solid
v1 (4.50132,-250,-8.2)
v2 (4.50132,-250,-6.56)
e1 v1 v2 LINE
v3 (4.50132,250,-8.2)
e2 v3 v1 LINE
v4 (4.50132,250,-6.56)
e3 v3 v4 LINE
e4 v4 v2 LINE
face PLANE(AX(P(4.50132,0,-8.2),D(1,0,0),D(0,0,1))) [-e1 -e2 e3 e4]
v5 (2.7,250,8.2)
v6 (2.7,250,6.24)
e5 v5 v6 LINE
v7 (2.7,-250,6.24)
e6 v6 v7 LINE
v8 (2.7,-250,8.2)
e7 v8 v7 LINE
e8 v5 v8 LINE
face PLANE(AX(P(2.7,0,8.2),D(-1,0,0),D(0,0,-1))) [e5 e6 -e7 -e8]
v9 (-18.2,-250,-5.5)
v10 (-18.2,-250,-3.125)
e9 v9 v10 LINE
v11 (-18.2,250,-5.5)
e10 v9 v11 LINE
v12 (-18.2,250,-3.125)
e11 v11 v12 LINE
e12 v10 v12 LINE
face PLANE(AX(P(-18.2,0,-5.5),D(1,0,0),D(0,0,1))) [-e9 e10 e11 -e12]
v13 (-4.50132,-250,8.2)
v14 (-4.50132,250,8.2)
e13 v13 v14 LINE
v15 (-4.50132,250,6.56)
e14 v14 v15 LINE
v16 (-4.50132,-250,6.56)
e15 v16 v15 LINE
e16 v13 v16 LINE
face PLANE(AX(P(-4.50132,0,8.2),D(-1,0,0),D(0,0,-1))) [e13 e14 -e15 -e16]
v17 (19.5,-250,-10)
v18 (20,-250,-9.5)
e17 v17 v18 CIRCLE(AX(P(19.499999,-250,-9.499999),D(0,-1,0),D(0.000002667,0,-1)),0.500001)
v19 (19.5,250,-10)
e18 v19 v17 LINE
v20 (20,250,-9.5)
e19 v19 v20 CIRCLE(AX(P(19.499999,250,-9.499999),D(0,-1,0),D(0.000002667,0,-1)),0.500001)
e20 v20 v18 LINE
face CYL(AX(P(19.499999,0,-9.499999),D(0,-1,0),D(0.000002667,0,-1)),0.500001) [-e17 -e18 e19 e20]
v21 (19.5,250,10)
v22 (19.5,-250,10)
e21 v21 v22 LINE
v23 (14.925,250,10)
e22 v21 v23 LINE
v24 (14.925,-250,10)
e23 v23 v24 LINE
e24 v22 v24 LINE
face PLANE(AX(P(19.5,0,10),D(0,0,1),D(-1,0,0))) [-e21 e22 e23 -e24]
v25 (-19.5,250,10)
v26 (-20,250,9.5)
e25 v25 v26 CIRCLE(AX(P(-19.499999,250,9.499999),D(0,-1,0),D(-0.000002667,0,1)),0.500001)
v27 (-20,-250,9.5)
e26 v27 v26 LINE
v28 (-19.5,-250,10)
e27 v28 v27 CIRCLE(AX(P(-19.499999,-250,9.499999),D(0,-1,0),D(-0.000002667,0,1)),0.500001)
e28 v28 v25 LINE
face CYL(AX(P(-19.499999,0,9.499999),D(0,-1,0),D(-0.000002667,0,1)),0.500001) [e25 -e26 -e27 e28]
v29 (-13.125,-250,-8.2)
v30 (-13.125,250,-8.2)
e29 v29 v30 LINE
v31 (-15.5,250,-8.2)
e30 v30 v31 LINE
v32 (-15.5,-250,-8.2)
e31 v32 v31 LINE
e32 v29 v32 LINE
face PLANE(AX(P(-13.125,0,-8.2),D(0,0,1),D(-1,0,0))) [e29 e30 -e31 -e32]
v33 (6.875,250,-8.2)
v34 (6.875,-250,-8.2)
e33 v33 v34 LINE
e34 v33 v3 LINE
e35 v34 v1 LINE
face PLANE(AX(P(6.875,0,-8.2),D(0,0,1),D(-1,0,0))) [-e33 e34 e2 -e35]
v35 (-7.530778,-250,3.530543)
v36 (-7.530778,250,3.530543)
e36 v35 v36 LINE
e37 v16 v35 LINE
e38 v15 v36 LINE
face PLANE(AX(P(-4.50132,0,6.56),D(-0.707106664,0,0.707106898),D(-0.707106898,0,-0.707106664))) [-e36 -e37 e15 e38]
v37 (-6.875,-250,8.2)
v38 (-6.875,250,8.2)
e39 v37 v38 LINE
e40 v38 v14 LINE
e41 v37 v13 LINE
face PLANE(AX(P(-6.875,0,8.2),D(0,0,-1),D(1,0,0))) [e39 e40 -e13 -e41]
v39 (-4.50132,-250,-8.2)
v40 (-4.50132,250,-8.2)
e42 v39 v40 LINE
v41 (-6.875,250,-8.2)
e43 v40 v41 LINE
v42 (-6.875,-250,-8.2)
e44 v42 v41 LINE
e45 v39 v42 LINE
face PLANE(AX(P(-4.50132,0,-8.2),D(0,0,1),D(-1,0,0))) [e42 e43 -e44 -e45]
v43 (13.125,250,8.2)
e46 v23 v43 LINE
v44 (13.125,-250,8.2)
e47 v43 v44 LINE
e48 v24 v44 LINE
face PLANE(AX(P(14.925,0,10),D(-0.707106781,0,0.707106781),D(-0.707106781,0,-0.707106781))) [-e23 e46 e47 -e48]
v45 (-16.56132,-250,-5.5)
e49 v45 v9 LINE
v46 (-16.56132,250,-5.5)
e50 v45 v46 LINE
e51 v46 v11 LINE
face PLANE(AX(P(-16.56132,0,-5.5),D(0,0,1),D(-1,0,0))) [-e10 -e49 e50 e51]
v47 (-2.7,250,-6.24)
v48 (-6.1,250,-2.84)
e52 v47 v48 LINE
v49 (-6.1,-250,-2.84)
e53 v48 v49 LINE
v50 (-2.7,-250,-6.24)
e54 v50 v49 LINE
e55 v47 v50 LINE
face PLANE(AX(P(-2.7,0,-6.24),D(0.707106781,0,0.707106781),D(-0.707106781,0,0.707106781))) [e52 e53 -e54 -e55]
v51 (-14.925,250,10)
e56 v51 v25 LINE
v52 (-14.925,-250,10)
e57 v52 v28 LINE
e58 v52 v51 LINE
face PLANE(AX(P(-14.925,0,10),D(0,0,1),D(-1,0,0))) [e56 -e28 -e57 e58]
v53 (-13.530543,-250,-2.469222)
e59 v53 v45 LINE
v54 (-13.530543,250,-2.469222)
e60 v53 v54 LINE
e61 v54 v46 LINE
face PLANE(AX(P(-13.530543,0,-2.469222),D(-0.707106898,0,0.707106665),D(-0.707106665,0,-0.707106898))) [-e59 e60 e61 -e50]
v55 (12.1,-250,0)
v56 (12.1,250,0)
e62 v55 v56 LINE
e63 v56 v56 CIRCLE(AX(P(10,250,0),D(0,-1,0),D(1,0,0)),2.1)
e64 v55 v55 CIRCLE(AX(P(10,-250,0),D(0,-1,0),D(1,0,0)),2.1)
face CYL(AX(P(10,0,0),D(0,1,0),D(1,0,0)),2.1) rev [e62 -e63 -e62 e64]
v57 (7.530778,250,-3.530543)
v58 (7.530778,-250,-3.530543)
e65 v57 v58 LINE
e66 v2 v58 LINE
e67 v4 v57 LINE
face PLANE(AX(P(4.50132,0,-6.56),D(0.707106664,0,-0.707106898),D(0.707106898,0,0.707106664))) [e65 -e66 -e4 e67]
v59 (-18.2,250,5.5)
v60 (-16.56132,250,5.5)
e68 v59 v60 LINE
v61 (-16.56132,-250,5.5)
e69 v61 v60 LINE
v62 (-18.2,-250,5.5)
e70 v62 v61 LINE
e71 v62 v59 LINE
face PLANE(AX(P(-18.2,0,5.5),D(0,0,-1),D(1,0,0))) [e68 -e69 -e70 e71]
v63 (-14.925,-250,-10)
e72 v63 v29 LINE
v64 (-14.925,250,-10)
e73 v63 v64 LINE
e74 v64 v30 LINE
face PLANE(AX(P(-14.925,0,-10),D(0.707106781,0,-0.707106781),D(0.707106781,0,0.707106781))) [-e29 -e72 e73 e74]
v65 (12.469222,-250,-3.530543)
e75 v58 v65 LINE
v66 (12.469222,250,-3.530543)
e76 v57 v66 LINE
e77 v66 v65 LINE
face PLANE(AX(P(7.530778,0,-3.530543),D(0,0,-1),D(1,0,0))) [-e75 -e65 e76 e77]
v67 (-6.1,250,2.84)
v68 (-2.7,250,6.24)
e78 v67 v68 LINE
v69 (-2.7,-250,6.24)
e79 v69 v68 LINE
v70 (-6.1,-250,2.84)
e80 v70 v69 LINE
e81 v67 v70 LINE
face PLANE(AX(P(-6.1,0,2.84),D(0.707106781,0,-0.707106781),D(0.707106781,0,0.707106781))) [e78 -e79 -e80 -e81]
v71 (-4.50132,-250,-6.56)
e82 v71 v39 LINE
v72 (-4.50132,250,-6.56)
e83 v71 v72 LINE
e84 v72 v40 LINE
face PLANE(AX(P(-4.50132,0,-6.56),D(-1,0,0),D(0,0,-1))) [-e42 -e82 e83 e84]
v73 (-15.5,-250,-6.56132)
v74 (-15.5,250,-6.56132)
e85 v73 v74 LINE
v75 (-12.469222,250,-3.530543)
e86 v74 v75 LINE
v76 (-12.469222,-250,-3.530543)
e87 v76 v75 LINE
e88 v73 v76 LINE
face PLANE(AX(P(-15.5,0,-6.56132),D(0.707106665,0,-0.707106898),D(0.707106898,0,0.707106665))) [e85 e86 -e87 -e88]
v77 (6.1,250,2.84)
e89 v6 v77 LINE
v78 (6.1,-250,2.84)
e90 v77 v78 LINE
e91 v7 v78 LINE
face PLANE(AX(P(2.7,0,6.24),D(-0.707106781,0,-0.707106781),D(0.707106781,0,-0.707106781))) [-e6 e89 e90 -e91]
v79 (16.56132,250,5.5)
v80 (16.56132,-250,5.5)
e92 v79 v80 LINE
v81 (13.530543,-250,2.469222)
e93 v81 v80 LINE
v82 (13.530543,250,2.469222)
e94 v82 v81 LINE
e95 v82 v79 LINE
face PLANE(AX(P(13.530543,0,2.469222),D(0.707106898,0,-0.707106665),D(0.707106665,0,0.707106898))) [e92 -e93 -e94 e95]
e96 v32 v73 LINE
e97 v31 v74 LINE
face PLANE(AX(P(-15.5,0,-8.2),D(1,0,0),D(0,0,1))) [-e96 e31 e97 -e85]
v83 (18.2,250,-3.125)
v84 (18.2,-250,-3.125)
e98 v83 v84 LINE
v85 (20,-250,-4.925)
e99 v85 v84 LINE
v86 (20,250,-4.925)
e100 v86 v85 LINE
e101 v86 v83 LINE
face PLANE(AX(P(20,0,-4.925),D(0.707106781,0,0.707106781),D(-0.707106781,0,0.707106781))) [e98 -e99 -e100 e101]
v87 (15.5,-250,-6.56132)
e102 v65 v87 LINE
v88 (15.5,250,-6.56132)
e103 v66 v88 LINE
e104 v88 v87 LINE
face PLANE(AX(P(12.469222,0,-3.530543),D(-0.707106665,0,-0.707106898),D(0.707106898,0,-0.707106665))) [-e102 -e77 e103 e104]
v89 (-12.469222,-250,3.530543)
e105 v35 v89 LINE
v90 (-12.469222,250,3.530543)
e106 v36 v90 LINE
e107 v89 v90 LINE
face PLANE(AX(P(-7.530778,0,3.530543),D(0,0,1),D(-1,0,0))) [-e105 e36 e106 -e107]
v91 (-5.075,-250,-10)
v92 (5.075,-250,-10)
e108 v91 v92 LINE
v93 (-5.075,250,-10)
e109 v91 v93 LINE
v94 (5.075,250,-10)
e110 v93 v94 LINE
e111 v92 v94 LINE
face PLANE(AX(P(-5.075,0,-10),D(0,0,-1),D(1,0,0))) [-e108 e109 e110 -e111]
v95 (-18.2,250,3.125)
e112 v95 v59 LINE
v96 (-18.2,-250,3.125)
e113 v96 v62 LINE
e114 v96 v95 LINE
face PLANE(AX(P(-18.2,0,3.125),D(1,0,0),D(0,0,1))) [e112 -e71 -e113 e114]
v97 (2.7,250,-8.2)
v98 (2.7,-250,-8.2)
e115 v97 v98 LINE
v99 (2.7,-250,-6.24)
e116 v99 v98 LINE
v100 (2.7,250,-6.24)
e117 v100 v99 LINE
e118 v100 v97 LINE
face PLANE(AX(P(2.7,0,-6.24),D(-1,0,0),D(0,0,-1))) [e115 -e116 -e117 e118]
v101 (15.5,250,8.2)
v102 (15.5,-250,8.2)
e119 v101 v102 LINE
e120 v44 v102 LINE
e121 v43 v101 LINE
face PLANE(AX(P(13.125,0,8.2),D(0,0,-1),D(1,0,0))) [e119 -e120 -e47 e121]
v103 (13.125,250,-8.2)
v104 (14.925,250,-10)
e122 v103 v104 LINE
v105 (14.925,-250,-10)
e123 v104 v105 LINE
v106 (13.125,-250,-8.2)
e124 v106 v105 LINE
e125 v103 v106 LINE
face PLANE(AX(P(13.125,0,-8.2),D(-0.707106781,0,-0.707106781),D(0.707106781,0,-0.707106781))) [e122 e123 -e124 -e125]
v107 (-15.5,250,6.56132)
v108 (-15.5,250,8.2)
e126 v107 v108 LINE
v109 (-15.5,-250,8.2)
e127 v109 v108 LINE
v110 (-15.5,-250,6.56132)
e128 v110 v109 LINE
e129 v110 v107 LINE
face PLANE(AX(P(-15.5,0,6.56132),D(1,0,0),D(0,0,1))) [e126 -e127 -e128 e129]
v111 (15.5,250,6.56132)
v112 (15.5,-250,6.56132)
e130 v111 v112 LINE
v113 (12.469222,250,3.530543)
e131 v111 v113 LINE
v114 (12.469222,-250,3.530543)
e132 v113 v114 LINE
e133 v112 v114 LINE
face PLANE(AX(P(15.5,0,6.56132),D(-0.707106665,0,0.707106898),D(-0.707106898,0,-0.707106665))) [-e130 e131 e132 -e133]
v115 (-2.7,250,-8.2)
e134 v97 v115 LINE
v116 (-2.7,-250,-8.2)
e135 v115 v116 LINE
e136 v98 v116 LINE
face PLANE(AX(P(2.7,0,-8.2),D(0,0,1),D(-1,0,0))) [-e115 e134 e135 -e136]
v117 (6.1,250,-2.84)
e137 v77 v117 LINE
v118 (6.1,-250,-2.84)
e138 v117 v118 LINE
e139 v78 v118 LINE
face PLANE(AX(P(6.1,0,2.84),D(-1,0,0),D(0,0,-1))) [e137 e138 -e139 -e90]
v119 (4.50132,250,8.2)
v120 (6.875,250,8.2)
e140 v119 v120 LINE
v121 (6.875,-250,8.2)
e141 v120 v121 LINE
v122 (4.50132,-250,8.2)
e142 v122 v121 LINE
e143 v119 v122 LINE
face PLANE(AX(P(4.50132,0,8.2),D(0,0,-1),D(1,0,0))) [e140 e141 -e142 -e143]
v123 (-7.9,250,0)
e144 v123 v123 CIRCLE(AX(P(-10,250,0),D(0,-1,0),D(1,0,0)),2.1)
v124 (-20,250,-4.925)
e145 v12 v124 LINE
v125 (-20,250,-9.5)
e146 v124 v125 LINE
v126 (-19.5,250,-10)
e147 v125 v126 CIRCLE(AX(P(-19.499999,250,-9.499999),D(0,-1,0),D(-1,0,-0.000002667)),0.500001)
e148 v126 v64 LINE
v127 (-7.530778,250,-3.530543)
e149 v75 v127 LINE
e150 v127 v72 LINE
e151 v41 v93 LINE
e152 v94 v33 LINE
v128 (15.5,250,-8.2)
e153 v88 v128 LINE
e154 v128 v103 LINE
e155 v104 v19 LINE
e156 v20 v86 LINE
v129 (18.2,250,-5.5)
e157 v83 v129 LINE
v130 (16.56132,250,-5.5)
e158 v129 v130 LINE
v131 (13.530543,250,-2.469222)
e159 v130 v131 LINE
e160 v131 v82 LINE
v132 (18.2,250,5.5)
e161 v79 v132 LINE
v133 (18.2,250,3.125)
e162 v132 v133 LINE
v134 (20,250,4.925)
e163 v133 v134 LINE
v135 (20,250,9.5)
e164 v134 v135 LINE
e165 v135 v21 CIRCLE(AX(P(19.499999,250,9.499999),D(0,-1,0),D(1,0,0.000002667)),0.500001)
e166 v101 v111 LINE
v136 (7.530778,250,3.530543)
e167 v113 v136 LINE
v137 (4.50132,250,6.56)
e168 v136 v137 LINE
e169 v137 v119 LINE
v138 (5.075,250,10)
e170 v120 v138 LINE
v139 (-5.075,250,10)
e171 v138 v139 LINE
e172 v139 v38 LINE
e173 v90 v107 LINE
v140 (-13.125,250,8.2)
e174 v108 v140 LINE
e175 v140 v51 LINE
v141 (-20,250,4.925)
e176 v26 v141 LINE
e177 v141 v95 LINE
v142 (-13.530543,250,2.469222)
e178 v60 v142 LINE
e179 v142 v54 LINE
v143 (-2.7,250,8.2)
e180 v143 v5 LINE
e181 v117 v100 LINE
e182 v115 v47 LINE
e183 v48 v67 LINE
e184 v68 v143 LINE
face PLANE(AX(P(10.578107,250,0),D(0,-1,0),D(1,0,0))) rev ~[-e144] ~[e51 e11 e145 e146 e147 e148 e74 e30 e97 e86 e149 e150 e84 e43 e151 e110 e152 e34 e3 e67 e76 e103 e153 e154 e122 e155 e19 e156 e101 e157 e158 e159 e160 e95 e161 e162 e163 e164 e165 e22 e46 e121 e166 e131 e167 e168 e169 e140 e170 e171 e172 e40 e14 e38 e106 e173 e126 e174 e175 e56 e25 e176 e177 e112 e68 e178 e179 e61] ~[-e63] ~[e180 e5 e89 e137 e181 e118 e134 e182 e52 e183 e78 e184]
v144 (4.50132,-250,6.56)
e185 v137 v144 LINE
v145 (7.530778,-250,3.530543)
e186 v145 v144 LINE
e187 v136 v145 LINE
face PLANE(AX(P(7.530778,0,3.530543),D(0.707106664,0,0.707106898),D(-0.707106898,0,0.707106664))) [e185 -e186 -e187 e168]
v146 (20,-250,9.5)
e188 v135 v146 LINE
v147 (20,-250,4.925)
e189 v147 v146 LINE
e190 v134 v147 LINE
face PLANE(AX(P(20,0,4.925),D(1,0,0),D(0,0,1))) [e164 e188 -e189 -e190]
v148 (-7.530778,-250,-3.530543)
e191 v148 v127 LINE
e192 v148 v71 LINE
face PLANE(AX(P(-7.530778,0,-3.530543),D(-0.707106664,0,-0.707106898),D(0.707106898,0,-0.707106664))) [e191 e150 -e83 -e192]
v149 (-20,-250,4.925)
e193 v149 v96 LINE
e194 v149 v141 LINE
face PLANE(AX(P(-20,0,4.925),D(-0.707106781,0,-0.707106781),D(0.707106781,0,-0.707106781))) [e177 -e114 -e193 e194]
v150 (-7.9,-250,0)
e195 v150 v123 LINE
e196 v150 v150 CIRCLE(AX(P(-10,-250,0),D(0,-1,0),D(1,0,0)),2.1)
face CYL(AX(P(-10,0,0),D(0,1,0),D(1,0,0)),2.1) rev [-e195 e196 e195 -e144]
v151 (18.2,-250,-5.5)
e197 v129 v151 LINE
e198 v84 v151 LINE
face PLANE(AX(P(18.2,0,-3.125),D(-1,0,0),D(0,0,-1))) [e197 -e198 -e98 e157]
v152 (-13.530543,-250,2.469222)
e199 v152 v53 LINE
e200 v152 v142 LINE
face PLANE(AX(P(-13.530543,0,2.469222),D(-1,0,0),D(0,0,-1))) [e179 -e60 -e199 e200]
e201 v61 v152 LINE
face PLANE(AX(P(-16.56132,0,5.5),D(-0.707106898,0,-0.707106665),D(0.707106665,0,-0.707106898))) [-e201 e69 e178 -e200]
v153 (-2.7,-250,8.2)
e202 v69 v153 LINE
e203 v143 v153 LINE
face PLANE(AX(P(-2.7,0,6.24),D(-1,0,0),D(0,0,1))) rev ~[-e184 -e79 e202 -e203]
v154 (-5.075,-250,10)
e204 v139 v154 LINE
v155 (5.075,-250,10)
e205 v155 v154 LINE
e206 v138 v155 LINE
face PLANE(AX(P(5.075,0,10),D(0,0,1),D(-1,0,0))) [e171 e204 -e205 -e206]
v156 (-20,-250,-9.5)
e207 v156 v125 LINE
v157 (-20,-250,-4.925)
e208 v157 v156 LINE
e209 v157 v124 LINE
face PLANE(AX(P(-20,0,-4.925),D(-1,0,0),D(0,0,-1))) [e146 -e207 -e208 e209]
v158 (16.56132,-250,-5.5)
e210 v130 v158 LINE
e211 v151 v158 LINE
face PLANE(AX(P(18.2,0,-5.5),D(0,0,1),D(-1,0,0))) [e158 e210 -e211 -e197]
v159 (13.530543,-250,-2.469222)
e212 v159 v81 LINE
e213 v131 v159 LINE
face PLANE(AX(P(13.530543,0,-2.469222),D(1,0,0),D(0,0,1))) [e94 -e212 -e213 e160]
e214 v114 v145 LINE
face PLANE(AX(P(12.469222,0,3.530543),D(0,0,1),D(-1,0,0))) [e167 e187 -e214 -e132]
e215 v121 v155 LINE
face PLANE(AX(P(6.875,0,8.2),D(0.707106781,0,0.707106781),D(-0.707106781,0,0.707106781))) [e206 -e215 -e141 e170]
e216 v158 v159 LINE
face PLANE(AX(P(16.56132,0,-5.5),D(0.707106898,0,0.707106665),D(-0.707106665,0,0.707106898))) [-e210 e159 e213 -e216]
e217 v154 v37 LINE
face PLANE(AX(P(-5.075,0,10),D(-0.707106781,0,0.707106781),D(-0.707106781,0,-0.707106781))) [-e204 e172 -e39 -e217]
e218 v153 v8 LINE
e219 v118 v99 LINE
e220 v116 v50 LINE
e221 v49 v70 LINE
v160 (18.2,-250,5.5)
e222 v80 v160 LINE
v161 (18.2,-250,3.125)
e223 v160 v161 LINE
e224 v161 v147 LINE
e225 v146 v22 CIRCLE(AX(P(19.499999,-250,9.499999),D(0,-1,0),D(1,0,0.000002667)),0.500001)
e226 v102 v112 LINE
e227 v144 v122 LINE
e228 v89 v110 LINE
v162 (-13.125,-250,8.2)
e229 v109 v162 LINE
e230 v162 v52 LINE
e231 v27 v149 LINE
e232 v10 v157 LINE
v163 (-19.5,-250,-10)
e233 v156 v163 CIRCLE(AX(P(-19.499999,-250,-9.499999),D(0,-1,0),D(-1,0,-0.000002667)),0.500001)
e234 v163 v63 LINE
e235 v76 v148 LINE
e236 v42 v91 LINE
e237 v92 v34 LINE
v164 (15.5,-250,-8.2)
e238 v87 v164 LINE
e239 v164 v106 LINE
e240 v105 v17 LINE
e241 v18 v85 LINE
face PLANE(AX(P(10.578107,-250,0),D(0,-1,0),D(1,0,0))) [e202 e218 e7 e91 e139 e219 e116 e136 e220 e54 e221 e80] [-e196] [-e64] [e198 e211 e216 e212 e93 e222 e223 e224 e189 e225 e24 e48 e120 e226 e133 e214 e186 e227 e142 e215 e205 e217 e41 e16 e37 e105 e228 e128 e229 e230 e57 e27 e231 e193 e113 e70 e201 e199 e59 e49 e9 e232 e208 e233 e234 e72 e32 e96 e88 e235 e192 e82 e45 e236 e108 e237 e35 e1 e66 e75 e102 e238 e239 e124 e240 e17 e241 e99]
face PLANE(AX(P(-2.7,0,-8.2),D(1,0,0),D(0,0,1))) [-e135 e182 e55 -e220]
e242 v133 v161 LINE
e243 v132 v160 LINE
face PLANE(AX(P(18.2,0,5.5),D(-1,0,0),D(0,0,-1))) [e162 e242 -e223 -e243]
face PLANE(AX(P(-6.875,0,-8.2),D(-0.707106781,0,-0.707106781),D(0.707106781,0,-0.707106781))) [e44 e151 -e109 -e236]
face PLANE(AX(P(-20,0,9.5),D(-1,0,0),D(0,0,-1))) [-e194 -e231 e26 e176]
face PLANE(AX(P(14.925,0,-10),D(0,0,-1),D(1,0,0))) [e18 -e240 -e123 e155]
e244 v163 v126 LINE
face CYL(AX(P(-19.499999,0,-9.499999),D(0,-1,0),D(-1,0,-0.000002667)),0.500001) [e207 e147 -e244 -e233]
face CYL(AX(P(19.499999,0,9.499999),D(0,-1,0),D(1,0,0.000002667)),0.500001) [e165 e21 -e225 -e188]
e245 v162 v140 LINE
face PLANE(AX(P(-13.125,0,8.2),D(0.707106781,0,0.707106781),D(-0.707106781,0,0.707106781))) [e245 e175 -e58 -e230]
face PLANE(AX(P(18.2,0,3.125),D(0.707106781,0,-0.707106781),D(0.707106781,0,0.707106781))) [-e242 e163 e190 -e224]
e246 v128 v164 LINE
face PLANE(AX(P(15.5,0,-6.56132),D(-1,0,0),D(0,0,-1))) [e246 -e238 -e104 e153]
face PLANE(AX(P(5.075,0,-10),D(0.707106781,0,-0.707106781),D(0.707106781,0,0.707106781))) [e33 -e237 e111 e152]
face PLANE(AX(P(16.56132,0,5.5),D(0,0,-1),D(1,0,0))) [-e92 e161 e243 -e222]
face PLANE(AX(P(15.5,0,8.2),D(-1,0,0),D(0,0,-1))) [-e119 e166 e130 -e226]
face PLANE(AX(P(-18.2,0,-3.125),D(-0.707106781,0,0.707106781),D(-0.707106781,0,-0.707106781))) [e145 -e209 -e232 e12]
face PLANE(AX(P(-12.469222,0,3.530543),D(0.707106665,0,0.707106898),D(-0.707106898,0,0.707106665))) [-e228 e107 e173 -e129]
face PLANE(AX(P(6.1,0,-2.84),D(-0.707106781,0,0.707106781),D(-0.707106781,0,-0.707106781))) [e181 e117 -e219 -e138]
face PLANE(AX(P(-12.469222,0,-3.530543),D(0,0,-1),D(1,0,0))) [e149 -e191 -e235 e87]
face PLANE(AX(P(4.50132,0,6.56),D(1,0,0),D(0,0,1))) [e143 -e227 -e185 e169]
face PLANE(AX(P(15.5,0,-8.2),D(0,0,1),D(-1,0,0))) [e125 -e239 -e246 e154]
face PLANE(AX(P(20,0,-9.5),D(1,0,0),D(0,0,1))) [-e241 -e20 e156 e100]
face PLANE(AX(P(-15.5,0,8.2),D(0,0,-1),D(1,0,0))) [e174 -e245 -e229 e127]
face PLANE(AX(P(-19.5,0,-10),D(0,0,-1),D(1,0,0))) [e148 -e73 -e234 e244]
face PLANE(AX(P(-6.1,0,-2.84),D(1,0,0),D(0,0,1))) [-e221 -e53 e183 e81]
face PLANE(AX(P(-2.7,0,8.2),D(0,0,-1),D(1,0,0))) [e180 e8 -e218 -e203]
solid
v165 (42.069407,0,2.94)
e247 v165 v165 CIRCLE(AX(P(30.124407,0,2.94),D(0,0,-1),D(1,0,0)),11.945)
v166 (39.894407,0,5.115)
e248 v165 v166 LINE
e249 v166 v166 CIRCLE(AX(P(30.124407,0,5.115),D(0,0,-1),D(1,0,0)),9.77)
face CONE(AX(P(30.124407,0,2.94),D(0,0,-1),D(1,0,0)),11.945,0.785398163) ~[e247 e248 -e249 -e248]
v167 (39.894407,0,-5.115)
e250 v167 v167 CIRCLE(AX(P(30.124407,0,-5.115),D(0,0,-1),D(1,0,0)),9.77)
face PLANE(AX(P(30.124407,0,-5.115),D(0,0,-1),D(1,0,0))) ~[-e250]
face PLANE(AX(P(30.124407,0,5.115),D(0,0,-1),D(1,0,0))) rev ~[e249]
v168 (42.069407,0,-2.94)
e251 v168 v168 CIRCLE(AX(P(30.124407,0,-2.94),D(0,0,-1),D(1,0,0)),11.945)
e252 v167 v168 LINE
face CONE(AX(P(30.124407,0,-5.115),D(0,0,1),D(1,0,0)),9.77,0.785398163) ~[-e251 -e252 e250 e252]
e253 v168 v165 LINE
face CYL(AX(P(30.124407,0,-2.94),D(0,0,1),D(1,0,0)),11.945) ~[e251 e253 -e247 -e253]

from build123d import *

# Parameters (mm, degrees)
F0_R     = 2.1
F1_DEPTH = 250


with BuildPart() as f1:
    # F0 (on Front) → F1 (new body, symmetric)
    with BuildSketch(Plane.XZ):
        with BuildLine():
            Line((2.7, -6.24), (2.7, -8.2))
            Line((2.7, -8.2), (0, -8.2))
            Line((0, -8.2), (0, -10))
            Line((0, -10), (5.075, -10))
            Line((5.075, -10), (6.875, -8.2))
            Line((6.875, -8.2), (4.50132, -8.2))
            Line((4.50132, -8.2), (4.50132, -6.56))
            Line((4.50132, -6.56), (7.530778, -3.530543))
            Line((7.530778, -3.530543), (10, -3.530543))
            Line((10, -3.530543), (12.469222, -3.530543))
            Line((12.469222, -3.530543), (15.5, -6.56132))
            Line((15.5, -6.56132), (15.5, -8.2))
            Line((15.5, -8.2), (13.125, -8.2))
            Line((13.125, -8.2), (14.925, -10))
            Line((14.925, -10), (19.5, -10))
            ThreePointArc((19.5, -10), (19.853553, -9.853553), (20, -9.5))
            Line((20, -9.5), (20, -4.925))
            Line((20, -4.925), (18.2, -3.125))
            Line((18.2, -3.125), (18.2, -5.5))
            Line((18.2, -5.5), (16.56132, -5.5))
            Line((16.56132, -5.5), (13.530543, -2.469222))
            Line((13.530543, -2.469222), (13.530543, 0))
            Line((13.530543, 0), (13.530543, 2.469222))
            Line((13.530543, 2.469222), (16.56132, 5.5))
            Line((16.56132, 5.5), (18.2, 5.5))
            Line((18.2, 5.5), (18.2, 3.125))
            Line((18.2, 3.125), (20, 4.925))
            Line((20, 4.925), (20, 9.5))
            ThreePointArc((20, 9.5), (19.853553, 9.853553), (19.5, 10))
            Line((19.5, 10), (14.925, 10))
            Line((14.925, 10), (13.125, 8.2))
            Line((13.125, 8.2), (15.5, 8.2))
            Line((15.5, 8.2), (15.5, 6.56132))
            Line((15.5, 6.56132), (12.469222, 3.530543))
            Line((12.469222, 3.530543), (10, 3.530543))
            Line((10, 3.530543), (7.530778, 3.530543))
            Line((7.530778, 3.530543), (4.50132, 6.56))
            Line((4.50132, 6.56), (4.50132, 8.2))
            Line((4.50132, 8.2), (6.875, 8.2))
            Line((6.875, 8.2), (5.075, 10))
            Line((5.075, 10), (0, 10))
            Line((0, 10), (0, 8.2))
            Line((0, 8.2), (2.7, 8.2))
            Line((2.7, 8.2), (2.7, 6.24))
            Line((2.7, 6.24), (6.1, 2.84))
            Line((6.1, 2.84), (6.1, -2.84))
            Line((6.1, -2.84), (2.7, -6.24))
        make_face()
        with Locations((10, 0)):
            Circle(F0_R, mode=Mode.SUBTRACT)
        with BuildLine():
            Line((0, -10), (0, -8.2))
            Line((0, -8.2), (-2.7, -8.2))
            Line((-2.7, -8.2), (-2.7, -6.24))
            Line((-2.7, -6.24), (-6.1, -2.84))
            Line((-6.1, -2.84), (-6.1, 2.84))
            Line((-6.1, 2.84), (-2.7, 6.24))
            Line((-2.7, 6.24), (-2.7, 8.2))
            Line((-2.7, 8.2), (0, 8.2))
            Line((0, 8.2), (0, 10))
            Line((0, 10), (-5.075, 10))
            Line((-5.075, 10), (-6.875, 8.2))
            Line((-6.875, 8.2), (-4.50132, 8.2))
            Line((-4.50132, 8.2), (-4.50132, 6.56))
            Line((-4.50132, 6.56), (-7.530778, 3.530543))
            Line((-7.530778, 3.530543), (-10, 3.530543))
            Line((-10, 3.530543), (-12.469222, 3.530543))
            Line((-12.469222, 3.530543), (-15.5, 6.56132))
            Line((-15.5, 6.56132), (-15.5, 8.2))
            Line((-15.5, 8.2), (-13.125, 8.2))
            Line((-13.125, 8.2), (-14.925, 10))
            Line((-14.925, 10), (-19.5, 10))
            ThreePointArc((-19.5, 10), (-19.853553, 9.853553), (-20, 9.5))
            Line((-20, 9.5), (-20, 4.925))
            Line((-20, 4.925), (-18.2, 3.125))
            Line((-18.2, 3.125), (-18.2, 5.5))
            Line((-18.2, 5.5), (-16.56132, 5.5))
            Line((-16.56132, 5.5), (-13.530543, 2.469222))
            Line((-13.530543, 2.469222), (-13.530543, 0))
            Line((-13.530543, 0), (-13.530543, -2.469222))
            Line((-13.530543, -2.469222), (-16.56132, -5.5))
            Line((-16.56132, -5.5), (-18.2, -5.5))
            Line((-18.2, -5.5), (-18.2, -3.125))
            Line((-18.2, -3.125), (-20, -4.925))
            Line((-20, -4.925), (-20, -9.5))
            ThreePointArc((-20, -9.5), (-19.853553, -9.853553), (-19.5, -10))
            Line((-19.5, -10), (-14.925, -10))
            Line((-14.925, -10), (-13.125, -8.2))
            Line((-13.125, -8.2), (-15.5, -8.2))
            Line((-15.5, -8.2), (-15.5, -6.56132))
            Line((-15.5, -6.56132), (-12.469222, -3.530543))
            Line((-12.469222, -3.530543), (-10, -3.530543))
            Line((-10, -3.530543), (-7.530778, -3.530543))
            Line((-7.530778, -3.530543), (-4.50132, -6.56))
            Line((-4.50132, -6.56), (-4.50132, -8.2))
            Line((-4.50132, -8.2), (-6.875, -8.2))
            Line((-6.875, -8.2), (-5.075, -10))
            Line((-5.075, -10), (0, -10))
        make_face()
        with Locations((-10, 0)):
            Circle(F0_R, mode=Mode.SUBTRACT)
    extrude(amount=F1_DEPTH, both=True)


with BuildPart() as f3:
    # F2 (on Front) → F3 (revolve)
    with BuildSketch(Plane.XZ):
        Polygon((42.069407, 2.94), (39.894407, 5.115), (30.124407, 5.115), (30.124407, -5.115), (39.894407, -5.115), (42.069407, -2.94), align=None)
    revolve(axis=Axis((30.124407, 0, 0), (0, 0, -1)))


solid = Compound([f1.part, f3.part])
